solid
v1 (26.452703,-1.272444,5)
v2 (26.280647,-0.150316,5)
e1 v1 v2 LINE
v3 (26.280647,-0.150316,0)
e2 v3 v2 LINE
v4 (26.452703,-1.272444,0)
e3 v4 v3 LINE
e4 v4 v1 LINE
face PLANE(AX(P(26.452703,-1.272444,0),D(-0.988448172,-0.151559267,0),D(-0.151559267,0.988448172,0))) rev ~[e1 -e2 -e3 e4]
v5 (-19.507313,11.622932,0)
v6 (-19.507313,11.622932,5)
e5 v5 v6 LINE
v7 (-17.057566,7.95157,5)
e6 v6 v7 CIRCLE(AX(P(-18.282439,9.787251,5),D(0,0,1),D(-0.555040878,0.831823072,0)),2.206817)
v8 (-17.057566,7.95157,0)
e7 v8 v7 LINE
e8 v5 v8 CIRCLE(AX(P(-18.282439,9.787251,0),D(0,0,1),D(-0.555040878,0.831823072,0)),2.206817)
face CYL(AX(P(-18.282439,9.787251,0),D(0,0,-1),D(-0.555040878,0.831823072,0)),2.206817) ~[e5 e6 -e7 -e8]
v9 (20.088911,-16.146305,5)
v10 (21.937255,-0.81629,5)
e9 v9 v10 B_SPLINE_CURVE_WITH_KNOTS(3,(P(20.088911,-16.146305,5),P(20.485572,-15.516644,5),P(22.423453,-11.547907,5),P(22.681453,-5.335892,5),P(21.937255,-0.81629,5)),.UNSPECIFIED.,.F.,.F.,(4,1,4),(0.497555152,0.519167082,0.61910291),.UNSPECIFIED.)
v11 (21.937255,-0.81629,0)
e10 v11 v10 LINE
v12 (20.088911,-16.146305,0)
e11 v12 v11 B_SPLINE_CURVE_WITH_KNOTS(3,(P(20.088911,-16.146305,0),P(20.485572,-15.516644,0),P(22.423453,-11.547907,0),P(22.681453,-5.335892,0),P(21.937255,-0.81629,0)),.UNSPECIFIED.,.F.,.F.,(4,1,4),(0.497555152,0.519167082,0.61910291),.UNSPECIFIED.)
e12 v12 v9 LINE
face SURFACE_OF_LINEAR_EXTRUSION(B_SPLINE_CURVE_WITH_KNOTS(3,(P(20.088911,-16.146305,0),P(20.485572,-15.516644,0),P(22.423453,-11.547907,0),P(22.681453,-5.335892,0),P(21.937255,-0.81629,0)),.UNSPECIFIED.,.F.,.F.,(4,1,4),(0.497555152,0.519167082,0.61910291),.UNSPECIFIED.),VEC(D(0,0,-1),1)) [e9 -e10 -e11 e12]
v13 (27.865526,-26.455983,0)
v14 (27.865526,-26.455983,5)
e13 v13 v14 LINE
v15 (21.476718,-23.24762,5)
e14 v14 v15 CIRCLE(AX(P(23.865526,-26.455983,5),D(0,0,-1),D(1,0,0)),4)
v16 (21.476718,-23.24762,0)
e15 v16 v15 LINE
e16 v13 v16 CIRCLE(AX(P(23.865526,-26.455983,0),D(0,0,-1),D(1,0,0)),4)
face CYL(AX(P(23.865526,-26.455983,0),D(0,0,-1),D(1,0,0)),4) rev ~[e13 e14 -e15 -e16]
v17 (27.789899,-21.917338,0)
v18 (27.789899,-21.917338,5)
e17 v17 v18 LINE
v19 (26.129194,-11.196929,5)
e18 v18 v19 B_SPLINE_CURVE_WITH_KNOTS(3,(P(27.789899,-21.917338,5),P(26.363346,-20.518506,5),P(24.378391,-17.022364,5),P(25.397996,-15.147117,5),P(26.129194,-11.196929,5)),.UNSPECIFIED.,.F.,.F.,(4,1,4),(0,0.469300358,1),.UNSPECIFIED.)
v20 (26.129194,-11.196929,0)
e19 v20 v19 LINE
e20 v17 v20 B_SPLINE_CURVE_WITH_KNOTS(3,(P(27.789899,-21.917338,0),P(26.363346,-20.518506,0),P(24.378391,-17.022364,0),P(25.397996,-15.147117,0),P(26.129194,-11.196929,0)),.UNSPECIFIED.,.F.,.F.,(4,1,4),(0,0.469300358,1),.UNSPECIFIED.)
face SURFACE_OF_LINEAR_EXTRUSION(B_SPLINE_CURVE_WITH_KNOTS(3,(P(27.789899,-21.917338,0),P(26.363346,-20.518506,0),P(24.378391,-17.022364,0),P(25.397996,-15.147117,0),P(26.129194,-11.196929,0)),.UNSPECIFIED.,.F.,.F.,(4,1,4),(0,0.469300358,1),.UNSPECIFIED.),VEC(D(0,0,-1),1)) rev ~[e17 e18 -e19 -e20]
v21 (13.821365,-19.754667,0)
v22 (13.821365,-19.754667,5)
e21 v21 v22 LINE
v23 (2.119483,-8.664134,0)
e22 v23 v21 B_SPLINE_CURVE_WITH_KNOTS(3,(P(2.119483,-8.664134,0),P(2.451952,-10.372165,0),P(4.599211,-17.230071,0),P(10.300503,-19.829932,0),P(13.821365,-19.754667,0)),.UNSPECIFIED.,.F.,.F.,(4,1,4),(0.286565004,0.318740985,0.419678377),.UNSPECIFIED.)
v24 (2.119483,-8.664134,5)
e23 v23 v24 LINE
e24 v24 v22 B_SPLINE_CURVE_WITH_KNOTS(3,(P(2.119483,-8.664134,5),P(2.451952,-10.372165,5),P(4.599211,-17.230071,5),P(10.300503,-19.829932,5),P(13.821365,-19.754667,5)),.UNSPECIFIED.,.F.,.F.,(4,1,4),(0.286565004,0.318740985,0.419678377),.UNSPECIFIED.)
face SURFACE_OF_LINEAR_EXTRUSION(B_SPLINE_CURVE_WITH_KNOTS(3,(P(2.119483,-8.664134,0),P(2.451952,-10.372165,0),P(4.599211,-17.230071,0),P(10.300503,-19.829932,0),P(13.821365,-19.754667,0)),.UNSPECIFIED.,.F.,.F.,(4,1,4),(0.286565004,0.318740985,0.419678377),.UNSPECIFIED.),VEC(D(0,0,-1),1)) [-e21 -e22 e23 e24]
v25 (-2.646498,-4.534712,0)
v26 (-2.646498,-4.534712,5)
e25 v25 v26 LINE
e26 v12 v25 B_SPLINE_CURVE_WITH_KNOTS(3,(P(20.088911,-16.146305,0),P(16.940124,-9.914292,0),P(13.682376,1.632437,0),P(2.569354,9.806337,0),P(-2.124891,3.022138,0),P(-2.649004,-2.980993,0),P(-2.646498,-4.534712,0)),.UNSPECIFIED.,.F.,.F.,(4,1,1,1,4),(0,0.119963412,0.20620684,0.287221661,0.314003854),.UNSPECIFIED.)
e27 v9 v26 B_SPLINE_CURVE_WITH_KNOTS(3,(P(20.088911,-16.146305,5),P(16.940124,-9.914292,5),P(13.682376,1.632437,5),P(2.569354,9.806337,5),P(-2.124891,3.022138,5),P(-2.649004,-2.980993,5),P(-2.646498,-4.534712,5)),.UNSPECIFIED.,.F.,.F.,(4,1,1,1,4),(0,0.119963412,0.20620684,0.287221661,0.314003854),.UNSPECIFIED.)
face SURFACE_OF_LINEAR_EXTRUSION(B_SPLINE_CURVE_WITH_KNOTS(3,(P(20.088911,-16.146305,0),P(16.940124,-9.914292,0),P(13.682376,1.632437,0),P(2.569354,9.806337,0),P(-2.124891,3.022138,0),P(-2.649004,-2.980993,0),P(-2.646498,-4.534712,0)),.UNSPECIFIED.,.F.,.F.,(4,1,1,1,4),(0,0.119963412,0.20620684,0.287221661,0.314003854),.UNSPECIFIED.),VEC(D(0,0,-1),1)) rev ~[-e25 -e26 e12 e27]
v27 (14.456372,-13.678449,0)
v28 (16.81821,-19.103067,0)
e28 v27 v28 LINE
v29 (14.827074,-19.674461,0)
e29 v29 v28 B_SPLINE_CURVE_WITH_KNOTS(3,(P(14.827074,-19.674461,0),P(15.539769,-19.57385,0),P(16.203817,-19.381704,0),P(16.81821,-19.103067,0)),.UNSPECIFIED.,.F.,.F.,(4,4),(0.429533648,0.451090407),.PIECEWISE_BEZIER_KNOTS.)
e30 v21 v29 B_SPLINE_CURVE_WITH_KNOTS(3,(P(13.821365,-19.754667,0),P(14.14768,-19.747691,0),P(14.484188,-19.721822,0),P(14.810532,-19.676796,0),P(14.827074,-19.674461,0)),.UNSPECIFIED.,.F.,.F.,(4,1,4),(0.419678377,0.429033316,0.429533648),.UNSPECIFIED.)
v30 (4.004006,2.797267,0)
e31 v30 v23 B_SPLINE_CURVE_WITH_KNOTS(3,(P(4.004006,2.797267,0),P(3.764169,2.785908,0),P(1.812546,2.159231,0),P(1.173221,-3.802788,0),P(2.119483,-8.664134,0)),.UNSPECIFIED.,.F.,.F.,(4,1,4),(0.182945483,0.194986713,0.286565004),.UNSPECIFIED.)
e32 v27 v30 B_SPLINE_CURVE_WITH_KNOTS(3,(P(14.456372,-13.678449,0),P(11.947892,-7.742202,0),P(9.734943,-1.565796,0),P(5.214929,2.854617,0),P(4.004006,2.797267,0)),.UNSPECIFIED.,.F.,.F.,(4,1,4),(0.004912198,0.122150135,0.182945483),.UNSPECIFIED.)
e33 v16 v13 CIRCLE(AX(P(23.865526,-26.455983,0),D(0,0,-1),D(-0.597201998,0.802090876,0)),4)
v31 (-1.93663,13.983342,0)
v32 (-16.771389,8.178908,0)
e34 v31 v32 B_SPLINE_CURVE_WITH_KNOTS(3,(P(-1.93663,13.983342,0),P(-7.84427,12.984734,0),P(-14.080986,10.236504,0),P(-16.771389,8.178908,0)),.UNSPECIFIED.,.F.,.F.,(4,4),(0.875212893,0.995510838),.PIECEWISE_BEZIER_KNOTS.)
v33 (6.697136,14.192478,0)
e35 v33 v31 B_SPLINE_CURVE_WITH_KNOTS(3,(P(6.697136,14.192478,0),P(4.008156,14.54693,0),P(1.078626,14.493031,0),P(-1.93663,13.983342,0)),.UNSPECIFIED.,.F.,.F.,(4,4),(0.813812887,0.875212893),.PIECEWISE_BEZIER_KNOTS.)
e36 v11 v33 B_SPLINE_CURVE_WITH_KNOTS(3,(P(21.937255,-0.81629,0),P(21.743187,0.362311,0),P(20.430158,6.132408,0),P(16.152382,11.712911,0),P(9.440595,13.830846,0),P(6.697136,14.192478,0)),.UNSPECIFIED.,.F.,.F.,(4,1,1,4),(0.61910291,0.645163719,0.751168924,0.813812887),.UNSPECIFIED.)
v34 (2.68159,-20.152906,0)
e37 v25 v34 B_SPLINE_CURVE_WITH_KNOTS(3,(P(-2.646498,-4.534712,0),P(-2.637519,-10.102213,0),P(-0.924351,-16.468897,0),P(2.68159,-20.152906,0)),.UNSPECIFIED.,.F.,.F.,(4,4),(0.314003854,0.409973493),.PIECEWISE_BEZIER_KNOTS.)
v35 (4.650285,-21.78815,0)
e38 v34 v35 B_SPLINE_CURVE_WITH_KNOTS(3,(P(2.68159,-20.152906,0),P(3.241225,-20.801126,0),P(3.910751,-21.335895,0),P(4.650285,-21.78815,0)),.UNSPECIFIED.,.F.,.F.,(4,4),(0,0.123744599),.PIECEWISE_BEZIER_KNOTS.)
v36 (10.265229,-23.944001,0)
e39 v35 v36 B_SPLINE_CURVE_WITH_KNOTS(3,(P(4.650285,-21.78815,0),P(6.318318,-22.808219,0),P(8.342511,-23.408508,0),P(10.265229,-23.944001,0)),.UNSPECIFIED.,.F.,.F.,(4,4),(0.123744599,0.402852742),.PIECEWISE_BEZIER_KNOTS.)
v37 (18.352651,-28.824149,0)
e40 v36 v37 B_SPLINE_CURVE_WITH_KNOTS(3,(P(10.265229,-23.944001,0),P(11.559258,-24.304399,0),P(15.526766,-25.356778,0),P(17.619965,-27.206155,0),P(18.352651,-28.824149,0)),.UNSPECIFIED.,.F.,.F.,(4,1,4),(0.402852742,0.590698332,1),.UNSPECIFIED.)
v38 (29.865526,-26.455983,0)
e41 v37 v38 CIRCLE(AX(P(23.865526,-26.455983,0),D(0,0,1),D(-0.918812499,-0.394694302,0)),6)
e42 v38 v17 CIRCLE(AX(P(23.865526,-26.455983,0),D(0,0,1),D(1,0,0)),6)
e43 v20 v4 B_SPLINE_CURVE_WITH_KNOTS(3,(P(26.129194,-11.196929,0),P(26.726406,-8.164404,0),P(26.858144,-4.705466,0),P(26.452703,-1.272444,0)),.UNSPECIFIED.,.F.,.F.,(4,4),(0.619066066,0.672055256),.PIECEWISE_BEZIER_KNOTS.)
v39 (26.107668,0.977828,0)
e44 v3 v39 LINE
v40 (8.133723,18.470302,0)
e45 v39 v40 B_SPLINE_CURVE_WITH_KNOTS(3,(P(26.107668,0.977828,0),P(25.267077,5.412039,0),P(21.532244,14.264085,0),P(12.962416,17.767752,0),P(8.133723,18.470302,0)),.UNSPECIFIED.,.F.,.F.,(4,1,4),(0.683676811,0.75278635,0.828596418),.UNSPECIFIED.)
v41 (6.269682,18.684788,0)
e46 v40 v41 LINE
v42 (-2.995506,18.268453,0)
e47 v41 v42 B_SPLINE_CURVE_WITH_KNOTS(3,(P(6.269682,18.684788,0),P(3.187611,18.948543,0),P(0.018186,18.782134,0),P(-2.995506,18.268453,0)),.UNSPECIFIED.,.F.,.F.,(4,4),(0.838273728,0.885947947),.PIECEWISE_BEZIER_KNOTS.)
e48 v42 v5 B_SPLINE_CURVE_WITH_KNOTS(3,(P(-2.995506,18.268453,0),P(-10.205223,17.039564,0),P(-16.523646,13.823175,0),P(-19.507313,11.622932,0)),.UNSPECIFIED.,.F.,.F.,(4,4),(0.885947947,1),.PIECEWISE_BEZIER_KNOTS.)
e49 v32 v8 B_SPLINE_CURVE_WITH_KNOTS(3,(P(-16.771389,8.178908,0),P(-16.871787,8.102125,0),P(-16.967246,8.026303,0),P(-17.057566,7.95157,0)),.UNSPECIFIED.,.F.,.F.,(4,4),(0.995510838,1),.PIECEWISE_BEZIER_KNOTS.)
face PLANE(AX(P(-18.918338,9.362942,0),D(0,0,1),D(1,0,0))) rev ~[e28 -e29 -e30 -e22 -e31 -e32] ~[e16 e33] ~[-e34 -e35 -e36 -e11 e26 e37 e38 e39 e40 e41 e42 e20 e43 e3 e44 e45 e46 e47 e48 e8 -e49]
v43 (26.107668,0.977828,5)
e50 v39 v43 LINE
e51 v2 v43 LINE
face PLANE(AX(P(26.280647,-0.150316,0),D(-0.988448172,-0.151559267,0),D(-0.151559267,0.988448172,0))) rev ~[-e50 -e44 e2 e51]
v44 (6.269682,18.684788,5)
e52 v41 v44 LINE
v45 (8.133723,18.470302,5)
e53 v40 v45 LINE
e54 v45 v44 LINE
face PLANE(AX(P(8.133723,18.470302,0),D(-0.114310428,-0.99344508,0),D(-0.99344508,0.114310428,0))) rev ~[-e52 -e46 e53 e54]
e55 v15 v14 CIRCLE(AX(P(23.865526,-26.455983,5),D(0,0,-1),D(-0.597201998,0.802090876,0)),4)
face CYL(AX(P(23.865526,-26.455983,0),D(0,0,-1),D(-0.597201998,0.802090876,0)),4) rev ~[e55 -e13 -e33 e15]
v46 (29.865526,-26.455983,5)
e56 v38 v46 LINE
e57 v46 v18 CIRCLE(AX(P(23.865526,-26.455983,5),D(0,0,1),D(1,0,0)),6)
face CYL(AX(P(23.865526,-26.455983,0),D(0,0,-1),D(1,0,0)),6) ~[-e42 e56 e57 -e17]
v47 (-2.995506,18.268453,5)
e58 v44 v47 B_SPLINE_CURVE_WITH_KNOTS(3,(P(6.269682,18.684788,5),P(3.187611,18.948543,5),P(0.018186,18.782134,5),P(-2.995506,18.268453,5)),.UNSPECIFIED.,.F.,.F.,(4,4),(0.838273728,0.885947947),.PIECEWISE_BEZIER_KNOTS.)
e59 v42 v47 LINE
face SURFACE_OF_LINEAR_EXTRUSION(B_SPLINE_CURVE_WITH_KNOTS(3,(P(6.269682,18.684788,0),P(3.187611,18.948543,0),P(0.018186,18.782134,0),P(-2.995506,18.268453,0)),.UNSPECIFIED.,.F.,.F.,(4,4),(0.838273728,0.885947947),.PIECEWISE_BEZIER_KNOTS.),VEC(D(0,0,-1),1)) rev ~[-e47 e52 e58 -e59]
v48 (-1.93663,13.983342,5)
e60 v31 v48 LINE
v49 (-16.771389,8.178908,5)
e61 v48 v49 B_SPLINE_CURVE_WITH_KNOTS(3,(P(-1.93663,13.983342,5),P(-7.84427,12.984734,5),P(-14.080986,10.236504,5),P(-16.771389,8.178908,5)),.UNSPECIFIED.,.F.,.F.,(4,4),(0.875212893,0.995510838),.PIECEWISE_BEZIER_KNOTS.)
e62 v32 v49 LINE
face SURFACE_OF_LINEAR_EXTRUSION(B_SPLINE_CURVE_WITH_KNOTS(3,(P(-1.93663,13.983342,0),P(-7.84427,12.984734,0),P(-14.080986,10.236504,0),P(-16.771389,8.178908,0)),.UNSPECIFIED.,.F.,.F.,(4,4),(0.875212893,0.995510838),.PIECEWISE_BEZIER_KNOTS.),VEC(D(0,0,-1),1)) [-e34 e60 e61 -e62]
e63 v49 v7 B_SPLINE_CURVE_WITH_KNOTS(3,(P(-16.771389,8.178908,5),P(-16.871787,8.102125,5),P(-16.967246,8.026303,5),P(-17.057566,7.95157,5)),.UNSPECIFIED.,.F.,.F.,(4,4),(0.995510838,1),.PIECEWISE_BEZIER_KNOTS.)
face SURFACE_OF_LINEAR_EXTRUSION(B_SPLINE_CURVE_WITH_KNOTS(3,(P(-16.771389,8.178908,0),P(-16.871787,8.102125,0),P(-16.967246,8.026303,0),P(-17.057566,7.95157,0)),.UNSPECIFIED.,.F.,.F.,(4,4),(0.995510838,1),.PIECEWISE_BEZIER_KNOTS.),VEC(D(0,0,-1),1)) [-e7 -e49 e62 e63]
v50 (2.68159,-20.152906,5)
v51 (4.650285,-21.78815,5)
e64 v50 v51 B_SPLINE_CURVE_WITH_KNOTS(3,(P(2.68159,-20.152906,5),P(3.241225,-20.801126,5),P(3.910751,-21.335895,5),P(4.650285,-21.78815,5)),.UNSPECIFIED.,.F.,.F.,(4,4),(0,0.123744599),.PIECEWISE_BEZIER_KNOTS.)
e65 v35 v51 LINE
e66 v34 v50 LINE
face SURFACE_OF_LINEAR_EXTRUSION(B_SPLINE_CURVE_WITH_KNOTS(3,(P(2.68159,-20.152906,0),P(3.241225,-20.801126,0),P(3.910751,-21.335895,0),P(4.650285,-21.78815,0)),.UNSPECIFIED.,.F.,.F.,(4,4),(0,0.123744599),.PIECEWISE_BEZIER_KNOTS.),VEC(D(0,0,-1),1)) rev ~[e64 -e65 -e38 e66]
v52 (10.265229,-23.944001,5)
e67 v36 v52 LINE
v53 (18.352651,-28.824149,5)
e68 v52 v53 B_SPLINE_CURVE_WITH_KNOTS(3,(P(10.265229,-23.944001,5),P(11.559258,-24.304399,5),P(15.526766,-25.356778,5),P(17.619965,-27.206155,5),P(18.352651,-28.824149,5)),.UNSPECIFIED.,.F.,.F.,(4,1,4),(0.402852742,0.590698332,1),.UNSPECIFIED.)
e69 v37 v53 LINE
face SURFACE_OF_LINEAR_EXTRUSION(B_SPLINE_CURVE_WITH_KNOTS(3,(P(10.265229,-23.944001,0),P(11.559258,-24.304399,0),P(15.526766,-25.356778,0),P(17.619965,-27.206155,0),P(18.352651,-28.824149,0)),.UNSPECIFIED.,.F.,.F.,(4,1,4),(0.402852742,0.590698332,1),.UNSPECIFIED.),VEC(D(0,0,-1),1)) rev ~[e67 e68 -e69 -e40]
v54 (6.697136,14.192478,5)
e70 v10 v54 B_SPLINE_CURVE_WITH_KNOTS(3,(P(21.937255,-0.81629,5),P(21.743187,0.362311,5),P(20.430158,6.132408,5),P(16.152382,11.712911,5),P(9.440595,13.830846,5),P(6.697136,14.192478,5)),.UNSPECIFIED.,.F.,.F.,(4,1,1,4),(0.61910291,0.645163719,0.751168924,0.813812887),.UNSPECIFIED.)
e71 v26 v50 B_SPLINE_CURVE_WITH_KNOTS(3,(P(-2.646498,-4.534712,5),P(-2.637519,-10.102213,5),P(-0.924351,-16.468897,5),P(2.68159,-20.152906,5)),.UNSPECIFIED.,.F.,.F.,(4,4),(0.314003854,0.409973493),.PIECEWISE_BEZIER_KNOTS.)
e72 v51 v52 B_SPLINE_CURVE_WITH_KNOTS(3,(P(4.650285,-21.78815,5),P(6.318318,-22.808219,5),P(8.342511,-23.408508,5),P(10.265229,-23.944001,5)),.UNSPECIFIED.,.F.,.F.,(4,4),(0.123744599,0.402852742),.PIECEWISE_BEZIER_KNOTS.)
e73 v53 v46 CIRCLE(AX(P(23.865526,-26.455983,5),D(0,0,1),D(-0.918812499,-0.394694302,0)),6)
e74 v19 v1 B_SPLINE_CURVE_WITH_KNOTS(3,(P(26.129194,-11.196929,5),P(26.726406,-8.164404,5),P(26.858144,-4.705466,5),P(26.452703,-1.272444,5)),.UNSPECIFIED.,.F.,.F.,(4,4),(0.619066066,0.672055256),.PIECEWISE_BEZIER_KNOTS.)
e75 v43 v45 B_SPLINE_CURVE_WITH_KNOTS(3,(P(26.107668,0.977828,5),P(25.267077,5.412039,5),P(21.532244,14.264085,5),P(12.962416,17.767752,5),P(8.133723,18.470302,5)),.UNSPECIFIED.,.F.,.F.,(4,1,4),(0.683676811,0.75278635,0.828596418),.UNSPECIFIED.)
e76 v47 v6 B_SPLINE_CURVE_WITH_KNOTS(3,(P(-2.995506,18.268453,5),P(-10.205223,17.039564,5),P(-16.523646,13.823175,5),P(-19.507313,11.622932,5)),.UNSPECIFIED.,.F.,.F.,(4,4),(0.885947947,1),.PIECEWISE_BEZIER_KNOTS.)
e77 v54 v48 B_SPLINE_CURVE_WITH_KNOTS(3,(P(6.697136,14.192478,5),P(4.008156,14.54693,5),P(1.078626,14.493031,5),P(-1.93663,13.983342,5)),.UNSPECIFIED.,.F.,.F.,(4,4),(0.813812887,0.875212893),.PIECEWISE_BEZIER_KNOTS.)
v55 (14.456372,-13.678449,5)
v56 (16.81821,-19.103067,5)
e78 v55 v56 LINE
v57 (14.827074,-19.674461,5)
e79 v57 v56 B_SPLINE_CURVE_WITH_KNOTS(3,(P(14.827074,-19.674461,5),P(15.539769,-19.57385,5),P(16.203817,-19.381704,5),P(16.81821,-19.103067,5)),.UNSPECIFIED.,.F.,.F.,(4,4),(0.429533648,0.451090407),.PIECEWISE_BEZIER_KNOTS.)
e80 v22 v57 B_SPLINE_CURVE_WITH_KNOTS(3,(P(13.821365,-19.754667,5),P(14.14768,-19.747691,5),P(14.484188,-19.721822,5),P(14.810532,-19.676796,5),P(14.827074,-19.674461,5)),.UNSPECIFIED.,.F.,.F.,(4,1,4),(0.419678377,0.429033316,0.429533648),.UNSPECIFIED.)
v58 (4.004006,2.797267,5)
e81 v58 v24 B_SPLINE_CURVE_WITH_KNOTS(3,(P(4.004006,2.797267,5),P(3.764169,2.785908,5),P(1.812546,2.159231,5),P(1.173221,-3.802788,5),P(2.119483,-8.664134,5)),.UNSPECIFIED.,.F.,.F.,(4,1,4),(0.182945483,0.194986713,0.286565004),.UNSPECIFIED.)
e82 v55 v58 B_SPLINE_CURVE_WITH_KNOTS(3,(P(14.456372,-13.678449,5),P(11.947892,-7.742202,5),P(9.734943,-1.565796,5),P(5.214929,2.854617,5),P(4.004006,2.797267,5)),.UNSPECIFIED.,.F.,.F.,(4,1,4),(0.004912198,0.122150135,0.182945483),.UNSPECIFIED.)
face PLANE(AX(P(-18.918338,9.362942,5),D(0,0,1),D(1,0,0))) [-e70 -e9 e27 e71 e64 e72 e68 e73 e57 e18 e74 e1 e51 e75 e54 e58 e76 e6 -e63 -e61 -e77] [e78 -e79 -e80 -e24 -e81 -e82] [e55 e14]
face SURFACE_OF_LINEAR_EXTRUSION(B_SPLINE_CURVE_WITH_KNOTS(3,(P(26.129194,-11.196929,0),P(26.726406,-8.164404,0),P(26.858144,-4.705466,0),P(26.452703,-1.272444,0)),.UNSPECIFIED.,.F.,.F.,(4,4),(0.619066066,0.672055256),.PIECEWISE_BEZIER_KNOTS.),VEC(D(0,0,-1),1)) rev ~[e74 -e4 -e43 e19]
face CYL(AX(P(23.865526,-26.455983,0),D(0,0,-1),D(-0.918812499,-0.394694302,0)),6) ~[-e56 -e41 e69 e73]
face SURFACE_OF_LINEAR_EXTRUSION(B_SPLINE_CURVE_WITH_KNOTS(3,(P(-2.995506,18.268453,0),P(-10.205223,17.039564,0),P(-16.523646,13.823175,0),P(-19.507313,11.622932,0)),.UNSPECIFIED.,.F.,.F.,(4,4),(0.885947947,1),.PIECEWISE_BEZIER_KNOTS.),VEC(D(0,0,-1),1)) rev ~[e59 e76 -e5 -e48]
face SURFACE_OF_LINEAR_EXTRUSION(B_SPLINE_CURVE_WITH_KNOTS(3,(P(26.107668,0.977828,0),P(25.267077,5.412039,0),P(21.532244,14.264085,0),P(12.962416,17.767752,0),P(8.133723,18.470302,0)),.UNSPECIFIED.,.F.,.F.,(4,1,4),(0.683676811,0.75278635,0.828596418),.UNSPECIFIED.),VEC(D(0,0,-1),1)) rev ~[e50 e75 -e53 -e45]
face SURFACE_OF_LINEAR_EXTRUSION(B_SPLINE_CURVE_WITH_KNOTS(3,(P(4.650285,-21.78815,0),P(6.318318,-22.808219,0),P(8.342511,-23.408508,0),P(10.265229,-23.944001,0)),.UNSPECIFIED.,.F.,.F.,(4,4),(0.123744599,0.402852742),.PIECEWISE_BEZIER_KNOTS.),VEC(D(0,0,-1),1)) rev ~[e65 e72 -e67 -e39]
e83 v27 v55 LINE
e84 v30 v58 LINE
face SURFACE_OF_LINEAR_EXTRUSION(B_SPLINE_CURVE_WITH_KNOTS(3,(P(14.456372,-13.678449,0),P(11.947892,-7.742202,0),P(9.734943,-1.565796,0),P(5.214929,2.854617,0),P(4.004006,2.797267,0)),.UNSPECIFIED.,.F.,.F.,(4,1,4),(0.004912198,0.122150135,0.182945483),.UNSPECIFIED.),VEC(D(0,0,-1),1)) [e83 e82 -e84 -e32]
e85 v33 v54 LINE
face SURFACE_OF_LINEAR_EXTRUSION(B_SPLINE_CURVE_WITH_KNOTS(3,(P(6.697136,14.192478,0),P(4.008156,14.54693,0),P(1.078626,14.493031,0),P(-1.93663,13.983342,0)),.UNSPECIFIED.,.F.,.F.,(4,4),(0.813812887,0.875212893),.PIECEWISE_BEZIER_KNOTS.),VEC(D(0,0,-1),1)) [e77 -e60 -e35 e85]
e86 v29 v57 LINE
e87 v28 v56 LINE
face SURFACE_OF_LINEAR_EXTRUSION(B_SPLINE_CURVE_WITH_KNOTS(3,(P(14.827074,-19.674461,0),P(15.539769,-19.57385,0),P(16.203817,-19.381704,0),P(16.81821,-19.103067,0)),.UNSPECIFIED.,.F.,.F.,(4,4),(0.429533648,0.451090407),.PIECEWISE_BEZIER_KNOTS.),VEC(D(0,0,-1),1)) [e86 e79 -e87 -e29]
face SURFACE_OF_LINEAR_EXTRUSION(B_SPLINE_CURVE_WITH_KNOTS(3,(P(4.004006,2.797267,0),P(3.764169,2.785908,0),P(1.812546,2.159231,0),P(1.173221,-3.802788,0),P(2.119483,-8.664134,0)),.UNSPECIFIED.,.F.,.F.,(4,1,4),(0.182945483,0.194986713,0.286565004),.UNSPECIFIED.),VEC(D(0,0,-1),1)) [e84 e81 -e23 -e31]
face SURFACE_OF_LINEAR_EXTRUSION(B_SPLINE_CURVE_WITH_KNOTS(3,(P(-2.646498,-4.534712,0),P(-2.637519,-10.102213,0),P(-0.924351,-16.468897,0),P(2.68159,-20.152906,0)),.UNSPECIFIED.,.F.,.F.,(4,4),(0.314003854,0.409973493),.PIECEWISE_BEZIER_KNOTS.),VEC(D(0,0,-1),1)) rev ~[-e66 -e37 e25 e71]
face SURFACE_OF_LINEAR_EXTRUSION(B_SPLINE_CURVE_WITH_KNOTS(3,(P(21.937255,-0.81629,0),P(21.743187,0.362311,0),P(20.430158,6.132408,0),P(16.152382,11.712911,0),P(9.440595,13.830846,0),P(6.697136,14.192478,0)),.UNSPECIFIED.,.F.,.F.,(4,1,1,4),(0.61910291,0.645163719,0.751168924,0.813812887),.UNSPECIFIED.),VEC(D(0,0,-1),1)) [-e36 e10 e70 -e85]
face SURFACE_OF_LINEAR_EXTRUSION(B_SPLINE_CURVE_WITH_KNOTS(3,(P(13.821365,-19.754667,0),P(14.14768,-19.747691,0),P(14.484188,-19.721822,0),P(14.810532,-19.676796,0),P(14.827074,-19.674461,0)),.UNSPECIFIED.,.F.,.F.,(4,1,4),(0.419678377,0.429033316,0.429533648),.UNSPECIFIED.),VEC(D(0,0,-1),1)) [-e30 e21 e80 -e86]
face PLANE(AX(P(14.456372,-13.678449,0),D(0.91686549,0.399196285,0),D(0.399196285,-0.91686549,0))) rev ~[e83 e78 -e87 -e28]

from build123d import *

# Parameters (mm, degrees)
F2_DEPTH = 5
F3_DEPTH = 5


with BuildPart() as f2:
    # F1 (on Top) → F2 (new body)
    with BuildSketch(Plane.XY):
        with BuildLine():
            ThreePointArc((-19.507312665, 11.6229322124), (-20.1181202822, 8.5623774422), (-17.057565512, 7.951569825))
            Line((-17.057565512, 7.951569825), (-19.507312665, 11.6229322124))
        make_face()
        with BuildLine():
            Line((-19.507312665, 11.6229322124), (-17.057565512, 7.951569825))
            add(Edge.make_bspline(
                [(-16.7713887547, 8.1789078924), (-16.8717865921, 8.1021245168), (-16.9672459743, 8.0263028908), (-17.057565512, 7.951569825)],
                knots=[0.9955108382, 0.9955108382, 0.9955108382, 0.9955108382, 1, 1, 1, 1], degree=3))
            ThreePointArc((-16.7713887547, 8.1789078924), (-16.2570191197, 8.9110577334), (-16.0756222127, 9.7872510187))
            ThreePointArc((-16.0756222127, 9.7872510187), (-17.2415334626, 11.7331585708), (-19.507312665, 11.6229322124))
        make_face()
        with BuildLine():
            ThreePointArc((-16.0756222127, 9.7872510187), (-16.2570191197, 8.9110577334), (-16.7713887547, 8.1789078924))
            add(Edge.make_bspline(
                [(-1.9366301412, 13.9833419936), (-7.8442704828, 12.9847341577), (-14.0809859392, 10.2365041031), (-16.7713887547, 8.1789078924)],
                knots=[0.8752128932, 0.8752128932, 0.8752128932, 0.8752128932, 0.9955108382, 0.9955108382, 0.9955108382, 0.9955108382], degree=3))
            Line((-1.9366301412, 13.9833419936), (-2.9955055058, 18.2684533063))
            add(Edge.make_bspline(
                [(-2.9955055058, 18.2684533063), (-10.205223484, 17.0395644672), (-16.5236455239, 13.8231745676), (-19.507312665, 11.6229322124)],
                knots=[0.8859479469, 0.8859479469, 0.8859479469, 0.8859479469, 1, 1, 1, 1], degree=3))
            ThreePointArc((-19.507312665, 11.6229322124), (-17.2415334626, 11.7331585708), (-16.0756222127, 9.7872510187))
        make_face()
        with BuildLine():
            add(Edge.make_bspline(
                [(6.6971361734, 14.1924783526), (4.0081562114, 14.5469298943), (1.0786263214, 14.4930308976), (-1.9366301412, 13.9833419936)],
                knots=[0.8138128865, 0.8138128865, 0.8138128865, 0.8138128865, 0.8752128932, 0.8752128932, 0.8752128932, 0.8752128932], degree=3))
            Line((6.6971361734, 14.1924783526), (7.2017024035, 18.5775449336))
            Line((7.2017024035, 18.5775449336), (6.2696815087, 18.6847876084))
            add(Edge.make_bspline(
                [(6.2696815087, 18.6847876084), (3.1876107705, 18.9485434567), (0.0181857316, 18.7821338049), (-2.9955055058, 18.2684533063)],
                knots=[0.8382737281, 0.8382737281, 0.8382737281, 0.8382737281, 0.8859479469, 0.8859479469, 0.8859479469, 0.8859479469], degree=3))
            Line((-2.9955055058, 18.2684533063), (-1.9366301412, 13.9833419936))
        make_face()
        with BuildLine():
            add(Edge.make_bspline(
                [(21.9372554064, -0.8162904639), (21.7431869177, 0.3623106479), (20.4301582956, 6.1324084279), (16.152381645, 11.7129111681), (9.4405945266, 13.8308456678), (6.6971361734, 14.1924783526)],
                knots=[0.6191029101, 0.6191029101, 0.6191029101, 0.6191029101, 0.6451637189, 0.7511689236, 0.8138128865, 0.8138128865, 0.8138128865, 0.8138128865], degree=3))
            Line((21.9372554064, -0.8162904639), (26.2806469532, -0.1503160042))
            Line((26.2806469532, -0.1503160042), (26.1076679956, 0.977828373))
            add(Edge.make_bspline(
                [(26.1076679956, 0.977828373), (25.2670772101, 5.4120393088), (21.5322437131, 14.2640849333), (12.962415849, 17.7677518812), (8.1337232983, 18.4703022588)],
                knots=[0.6836768106, 0.6836768106, 0.6836768106, 0.6836768106, 0.7527863503, 0.8285964185, 0.8285964185, 0.8285964185, 0.8285964185], degree=3))
            Line((8.1337232983, 18.4703022588), (7.2017024035, 18.5775449336))
            Line((7.2017024035, 18.5775449336), (6.6971361734, 14.1924783526))
        make_face()
        with BuildLine():
            add(Edge.make_bspline(
                [(20.0889106767, -16.1463050153), (20.4855715931, -15.5166440607), (22.4234534354, -11.5479066644), (22.6814531517, -5.335892259), (21.9372554064, -0.8162904639)],
                knots=[0.4975551523, 0.4975551523, 0.4975551523, 0.4975551523, 0.519167082, 0.6191029101, 0.6191029101, 0.6191029101, 0.6191029101], degree=3))
            Line((20.0889106767, -16.1463050153), (21.8660161198, -20.2279227937))
            add(Edge.make_bspline(
                [(21.8660161198, -20.2279227937), (23.9564655762, -18.010472491), (25.3947838602, -14.9261205718), (26.1291940116, -11.1969289511)],
                knots=[0.5539035838, 0.5539035838, 0.5539035838, 0.5539035838, 0.619066066, 0.619066066, 0.619066066, 0.619066066], degree=3))
            add(Edge.make_bspline(
                [(26.1291940116, -11.1969289511), (26.7264057456, -8.1644041557), (26.8581436115, -4.7054657187), (26.4527034305, -1.2724440954)],
                knots=[0.619066066, 0.619066066, 0.619066066, 0.619066066, 0.672055256, 0.672055256, 0.672055256, 0.672055256], degree=3))
            Line((26.4527034305, -1.2724440954), (26.2806469532, -0.1503160042))
            Line((26.2806469532, -0.1503160042), (21.9372554064, -0.8162904639))
        make_face()
        with BuildLine():
            add(Edge.make_bspline(
                [(20.28384615, -21.6454952109), (20.3180391843, -21.619825131), (20.3521016985, -21.5939675956), (20.3860335419, -21.5679232514)],
                knots=[0.5385810267, 0.5385810267, 0.5385810267, 0.5385810267, 0.5395116224, 0.5395116224, 0.5395116224, 0.5395116224], degree=3))
            ThreePointArc((20.3860335419, -21.5679232514), (20.3339721116, -21.6054033459), (20.2823143723, -21.6434379089))
            Line((20.2823143723, -21.6434379089), (20.28384615, -21.6454952109))
        make_face()
        with BuildLine():
            add(Edge.make_bspline(
                [(20.1552763015, -21.7406841825), (20.1983358242, -21.7092470611), (20.2411925379, -21.6775169854), (20.28384615, -21.6454952109)],
                knots=[0.5374201682, 0.5374201682, 0.5374201682, 0.5374201682, 0.5385810267, 0.5385810267, 0.5385810267, 0.5385810267], degree=3))
            ThreePointArc((20.1552763015, -21.7406841825), (18.050857211, -24.9762457931), (18.3526513671, -28.8241489794))
            ThreePointArc((18.3526513671, -28.8241489794), (25.0743998115, -32.3329402852), (29.8655263595, -26.4559831663))
            ThreePointArc((29.8655263595, -26.4559831663), (29.3220011482, -23.9606108735), (27.7898987328, -21.9173378315))
            ThreePointArc((27.7898987328, -21.9173378315), (24.1483727701, -20.4626537154), (20.3860335419, -21.5679232514))
            add(Edge.make_bspline(
                [(20.28384615, -21.6454952109), (20.3180391843, -21.619825131), (20.3521016985, -21.5939675956), (20.3860335419, -21.5679232514)],
                knots=[0.5385810267, 0.5385810267, 0.5385810267, 0.5385810267, 0.5395116224, 0.5395116224, 0.5395116224, 0.5395116224], degree=3))
        make_face()
        with BuildLine():
            ThreePointArc((27.8655263595, -26.4559831663), (22.0704263575, -30.0305623), (21.4767183681, -23.2476196614))
            ThreePointArc((21.4767183681, -23.2476196614), (25.6606263615, -22.8814040327), (27.8655263595, -26.4559831663))
        make_face(mode=Mode.SUBTRACT)
        with BuildLine():
            ThreePointArc((20.2823143723, -21.6434379089), (20.2184711967, -21.6916376038), (20.1552763015, -21.7406841825))
            add(Edge.make_bspline(
                [(20.1552763015, -21.7406841825), (20.1983358242, -21.7092470611), (20.2411925379, -21.6775169854), (20.28384615, -21.6454952109)],
                knots=[0.5374201682, 0.5374201682, 0.5374201682, 0.5374201682, 0.5385810267, 0.5385810267, 0.5385810267, 0.5385810267], degree=3))
            Line((20.28384615, -21.6454952109), (20.2823143723, -21.6434379089))
        make_face()
        with BuildLine():
            add(Edge.make_bspline(
                [(21.8660161198, -20.2279227937), (23.9564655762, -18.010472491), (25.3947838602, -14.9261205718), (26.1291940116, -11.1969289511)],
                knots=[0.5539035838, 0.5539035838, 0.5539035838, 0.5539035838, 0.619066066, 0.619066066, 0.619066066, 0.619066066], degree=3))
            add(Edge.make_bspline(
                [(20.3860335419, -21.5679232514), (20.910800353, -21.1651391388), (21.404313823, -20.7176748394), (21.8660161198, -20.2279227937)],
                knots=[0.5395116224, 0.5395116224, 0.5395116224, 0.5395116224, 0.5539035838, 0.5539035838, 0.5539035838, 0.5539035838], degree=3))
            ThreePointArc((20.3860335419, -21.5679232514), (24.1483727701, -20.4626537154), (27.7898987328, -21.9173378315))
            add(Edge.make_bspline(
                [(27.7898987328, -21.9173378315), (26.3633456032, -20.5185059493), (24.378390887, -17.0223641834), (25.3979956076, -15.1471171757), (26.1291940116, -11.1969289511)],
                knots=[0, 0, 0, 0, 0.4693003582, 1, 1, 1, 1], degree=3))
        make_face()
        with BuildLine():
            add(Edge.make_bspline(
                [(16.8182095123, -19.1030671497), (18.1425078952, -18.5024765803), (19.2361062905, -17.500049742), (20.0889106767, -16.1463050153)],
                knots=[0.451090407, 0.451090407, 0.451090407, 0.451090407, 0.4975551523, 0.4975551523, 0.4975551523, 0.4975551523], degree=3))
            Line((16.8182095123, -19.1030671497), (18.423830983, -22.7908242075))
            add(Edge.make_bspline(
                [(18.423830983, -22.7908242075), (19.0330581339, -22.4893818232), (19.6104042868, -22.1384871917), (20.1552763015, -21.7406841825)],
                knots=[0.5227307518, 0.5227307518, 0.5227307518, 0.5227307518, 0.5374201682, 0.5374201682, 0.5374201682, 0.5374201682], degree=3))
            ThreePointArc((20.1552763015, -21.7406841825), (20.2184711967, -21.6916376038), (20.2823143723, -21.6434379089))
            ThreePointArc((20.2823143723, -21.6434379089), (20.3339721116, -21.6054033459), (20.3860335419, -21.5679232514))
            add(Edge.make_bspline(
                [(20.3860335419, -21.5679232514), (20.910800353, -21.1651391388), (21.404313823, -20.7176748394), (21.8660161198, -20.2279227937)],
                knots=[0.5395116224, 0.5395116224, 0.5395116224, 0.5395116224, 0.5539035838, 0.5539035838, 0.5539035838, 0.5539035838], degree=3))
            Line((21.8660161198, -20.2279227937), (20.0889106767, -16.1463050153))
        make_face()
        with BuildLine():
            add(Edge.make_bspline(
                [(14.4563719041, -13.6784490389), (11.9478924144, -7.7422020563), (9.7349430762, -1.5657958226), (5.2149294509, 2.8546170768), (4.0040064051, 2.7972669281)],
                knots=[0.0049121983, 0.0049121983, 0.0049121983, 0.0049121983, 0.1221501352, 0.1829454827, 0.1829454827, 0.1829454827, 0.1829454827], degree=3))
            Line((14.4563719041, -13.6784490389), (16.8182095123, -19.1030671497))
            add(Edge.make_bspline(
                [(16.8182095123, -19.1030671497), (18.1425078952, -18.5024765803), (19.2361062905, -17.500049742), (20.0889106767, -16.1463050153)],
                knots=[0.451090407, 0.451090407, 0.451090407, 0.451090407, 0.4975551523, 0.4975551523, 0.4975551523, 0.4975551523], degree=3))
            add(Edge.make_bspline(
                [(20.0889106767, -16.1463050153), (16.9401236551, -9.9142919394), (13.6823761538, 1.6324368893), (2.5693543705, 9.8063367262), (-2.1248910522, 3.022137917), (-2.6490037256, -2.9809927289), (-2.6464978897, -4.5347120871)],
                knots=[0, 0, 0, 0, 0.1199634116, 0.2062068397, 0.2872216608, 0.314003854, 0.314003854, 0.314003854, 0.314003854], degree=3))
            Line((-2.6464978897, -4.5347120871), (2.1194828857, -8.6641340779))
            add(Edge.make_bspline(
                [(4.0040064051, 2.7972669281), (3.7641689139, 2.7859080594), (1.8125458048, 2.1592306174), (1.1732206956, -3.8027881615), (2.1194828857, -8.6641340779)],
                knots=[0.1829454827, 0.1829454827, 0.1829454827, 0.1829454827, 0.1949867133, 0.2865650036, 0.2865650036, 0.2865650036, 0.2865650036], degree=3))
        make_face()
        with BuildLine():
            add(Edge.make_bspline(
                [(2.1194828857, -8.6641340779), (2.451951584, -10.3721652827), (4.5992106957, -17.2300714321), (10.3005032332, -19.8299319856), (13.8213645144, -19.7546669605)],
                knots=[0.2865650036, 0.2865650036, 0.2865650036, 0.2865650036, 0.3187409854, 0.4196783767, 0.4196783767, 0.4196783767, 0.4196783767], degree=3))
            Line((2.1194828857, -8.6641340779), (-2.6464978897, -4.5347120871))
            add(Edge.make_bspline(
                [(-2.6464978897, -4.5347120871), (-2.6375186339, -10.1022130055), (-0.9243512122, -16.4688966728), (2.6815896388, -20.1529055202)],
                knots=[0.314003854, 0.314003854, 0.314003854, 0.314003854, 0.4099734929, 0.4099734929, 0.4099734929, 0.4099734929], degree=3))
            add(Edge.make_bspline(
                [(2.6815896388, -20.1529055202), (3.2888595942, -20.7733227653), (3.9498110967, -21.3176558196), (4.6502852132, -21.7881497513)],
                knots=[0.4099734929, 0.4099734929, 0.4099734929, 0.4099734929, 0.4261355656, 0.4261355656, 0.4261355656, 0.4261355656], degree=3))
            add(Edge.make_bspline(
                [(4.6502852132, -21.7881497513), (6.3183184941, -22.808218778), (8.3425108076, -23.4085076745), (10.2652286752, -23.9440009422)],
                knots=[0.1237445993, 0.1237445993, 0.1237445993, 0.1237445993, 0.402852742, 0.402852742, 0.402852742, 0.402852742], degree=3))
            add(Edge.make_bspline(
                [(10.2652286752, -23.9440009422), (12.7368741912, -24.3235901556), (15.6569018468, -24.0237679584), (18.0975894514, -22.9522467983), (18.423830983, -22.7908242075)],
                knots=[0.4654861274, 0.4654861274, 0.4654861274, 0.4654861274, 0.5148645599, 0.5227307518, 0.5227307518, 0.5227307518, 0.5227307518], degree=3))
            Line((18.423830983, -22.7908242075), (14.8270740529, -19.6744609944))
            add(Edge.make_bspline(
                [(13.8213645144, -19.7546669605), (14.1476800852, -19.747691352), (14.4841877515, -19.7218219565), (14.8105324117, -19.6767961713), (14.8270740529, -19.6744609944)],
                knots=[0.4196783767, 0.4196783767, 0.4196783767, 0.4196783767, 0.4290333156, 0.4295336475, 0.4295336475, 0.4295336475, 0.4295336475], degree=3))
        make_face()
        with BuildLine():
            add(Edge.make_bspline(
                [(2.6815896388, -20.1529055202), (3.2888595942, -20.7733227653), (3.9498110967, -21.3176558196), (4.6502852132, -21.7881497513)],
                knots=[0.4099734929, 0.4099734929, 0.4099734929, 0.4099734929, 0.4261355656, 0.4261355656, 0.4261355656, 0.4261355656], degree=3))
            add(Edge.make_bspline(
                [(2.6815896388, -20.1529055202), (3.2412247581, -20.8011255668), (3.9107506805, -21.3358948235), (4.6502852132, -21.7881497513)],
                knots=[0, 0, 0, 0, 0.1237445993, 0.1237445993, 0.1237445993, 0.1237445993], degree=3))
        make_face()
        with BuildLine():
            add(Edge.make_bspline(
                [(18.423830983, -22.7908242075), (19.0330581339, -22.4893818232), (19.6104042868, -22.1384871917), (20.1552763015, -21.7406841825)],
                knots=[0.5227307518, 0.5227307518, 0.5227307518, 0.5227307518, 0.5374201682, 0.5374201682, 0.5374201682, 0.5374201682], degree=3))
            add(Edge.make_bspline(
                [(10.2652286752, -23.9440009422), (12.7368741912, -24.3235901556), (15.6569018468, -24.0237679584), (18.0975894514, -22.9522467983), (18.423830983, -22.7908242075)],
                knots=[0.4654861274, 0.4654861274, 0.4654861274, 0.4654861274, 0.5148645599, 0.5227307518, 0.5227307518, 0.5227307518, 0.5227307518], degree=3))
            add(Edge.make_bspline(
                [(10.2652286752, -23.9440009422), (11.5592578214, -24.3043990577), (15.5267661481, -25.3567777314), (17.6199648235, -27.2061546689), (18.3526513671, -28.8241489794)],
                knots=[0.402852742, 0.402852742, 0.402852742, 0.402852742, 0.5906983316, 1, 1, 1, 1], degree=3))
            ThreePointArc((18.3526513671, -28.8241489794), (18.050857211, -24.9762457931), (20.1552763015, -21.7406841825))
        make_face()
        with BuildLine():
            Line((18.423830983, -22.7908242075), (16.8182095123, -19.1030671497))
            add(Edge.make_bspline(
                [(14.8270740529, -19.6744609944), (15.5397694035, -19.5738500762), (16.2038172105, -19.3817039186), (16.8182095123, -19.1030671497)],
                knots=[0.4295336475, 0.4295336475, 0.4295336475, 0.4295336475, 0.451090407, 0.451090407, 0.451090407, 0.451090407], degree=3))
            Line((14.8270740529, -19.6744609944), (18.423830983, -22.7908242075))
        make_face()
    extrude(amount=F2_DEPTH)

    # F1 (on Top) → F3 (join)
    with BuildSketch(Plane.XY):
        with BuildLine():
            add(Edge.make_bspline(
                [(18.423830983, -22.7908242075), (19.0330581339, -22.4893818232), (19.6104042868, -22.1384871917), (20.1552763015, -21.7406841825)],
                knots=[0.5227307518, 0.5227307518, 0.5227307518, 0.5227307518, 0.5374201682, 0.5374201682, 0.5374201682, 0.5374201682], degree=3))
            add(Edge.make_bspline(
                [(10.2652286752, -23.9440009422), (12.7368741912, -24.3235901556), (15.6569018468, -24.0237679584), (18.0975894514, -22.9522467983), (18.423830983, -22.7908242075)],
                knots=[0.4654861274, 0.4654861274, 0.4654861274, 0.4654861274, 0.5148645599, 0.5227307518, 0.5227307518, 0.5227307518, 0.5227307518], degree=3))
            add(Edge.make_bspline(
                [(10.2652286752, -23.9440009422), (11.5592578214, -24.3043990577), (15.5267661481, -25.3567777314), (17.6199648235, -27.2061546689), (18.3526513671, -28.8241489794)],
                knots=[0.402852742, 0.402852742, 0.402852742, 0.402852742, 0.5906983316, 1, 1, 1, 1], degree=3))
            ThreePointArc((18.3526513671, -28.8241489794), (18.050857211, -24.9762457931), (20.1552763015, -21.7406841825))
        make_face()
    extrude(amount=F3_DEPTH)


solid = f2.part
